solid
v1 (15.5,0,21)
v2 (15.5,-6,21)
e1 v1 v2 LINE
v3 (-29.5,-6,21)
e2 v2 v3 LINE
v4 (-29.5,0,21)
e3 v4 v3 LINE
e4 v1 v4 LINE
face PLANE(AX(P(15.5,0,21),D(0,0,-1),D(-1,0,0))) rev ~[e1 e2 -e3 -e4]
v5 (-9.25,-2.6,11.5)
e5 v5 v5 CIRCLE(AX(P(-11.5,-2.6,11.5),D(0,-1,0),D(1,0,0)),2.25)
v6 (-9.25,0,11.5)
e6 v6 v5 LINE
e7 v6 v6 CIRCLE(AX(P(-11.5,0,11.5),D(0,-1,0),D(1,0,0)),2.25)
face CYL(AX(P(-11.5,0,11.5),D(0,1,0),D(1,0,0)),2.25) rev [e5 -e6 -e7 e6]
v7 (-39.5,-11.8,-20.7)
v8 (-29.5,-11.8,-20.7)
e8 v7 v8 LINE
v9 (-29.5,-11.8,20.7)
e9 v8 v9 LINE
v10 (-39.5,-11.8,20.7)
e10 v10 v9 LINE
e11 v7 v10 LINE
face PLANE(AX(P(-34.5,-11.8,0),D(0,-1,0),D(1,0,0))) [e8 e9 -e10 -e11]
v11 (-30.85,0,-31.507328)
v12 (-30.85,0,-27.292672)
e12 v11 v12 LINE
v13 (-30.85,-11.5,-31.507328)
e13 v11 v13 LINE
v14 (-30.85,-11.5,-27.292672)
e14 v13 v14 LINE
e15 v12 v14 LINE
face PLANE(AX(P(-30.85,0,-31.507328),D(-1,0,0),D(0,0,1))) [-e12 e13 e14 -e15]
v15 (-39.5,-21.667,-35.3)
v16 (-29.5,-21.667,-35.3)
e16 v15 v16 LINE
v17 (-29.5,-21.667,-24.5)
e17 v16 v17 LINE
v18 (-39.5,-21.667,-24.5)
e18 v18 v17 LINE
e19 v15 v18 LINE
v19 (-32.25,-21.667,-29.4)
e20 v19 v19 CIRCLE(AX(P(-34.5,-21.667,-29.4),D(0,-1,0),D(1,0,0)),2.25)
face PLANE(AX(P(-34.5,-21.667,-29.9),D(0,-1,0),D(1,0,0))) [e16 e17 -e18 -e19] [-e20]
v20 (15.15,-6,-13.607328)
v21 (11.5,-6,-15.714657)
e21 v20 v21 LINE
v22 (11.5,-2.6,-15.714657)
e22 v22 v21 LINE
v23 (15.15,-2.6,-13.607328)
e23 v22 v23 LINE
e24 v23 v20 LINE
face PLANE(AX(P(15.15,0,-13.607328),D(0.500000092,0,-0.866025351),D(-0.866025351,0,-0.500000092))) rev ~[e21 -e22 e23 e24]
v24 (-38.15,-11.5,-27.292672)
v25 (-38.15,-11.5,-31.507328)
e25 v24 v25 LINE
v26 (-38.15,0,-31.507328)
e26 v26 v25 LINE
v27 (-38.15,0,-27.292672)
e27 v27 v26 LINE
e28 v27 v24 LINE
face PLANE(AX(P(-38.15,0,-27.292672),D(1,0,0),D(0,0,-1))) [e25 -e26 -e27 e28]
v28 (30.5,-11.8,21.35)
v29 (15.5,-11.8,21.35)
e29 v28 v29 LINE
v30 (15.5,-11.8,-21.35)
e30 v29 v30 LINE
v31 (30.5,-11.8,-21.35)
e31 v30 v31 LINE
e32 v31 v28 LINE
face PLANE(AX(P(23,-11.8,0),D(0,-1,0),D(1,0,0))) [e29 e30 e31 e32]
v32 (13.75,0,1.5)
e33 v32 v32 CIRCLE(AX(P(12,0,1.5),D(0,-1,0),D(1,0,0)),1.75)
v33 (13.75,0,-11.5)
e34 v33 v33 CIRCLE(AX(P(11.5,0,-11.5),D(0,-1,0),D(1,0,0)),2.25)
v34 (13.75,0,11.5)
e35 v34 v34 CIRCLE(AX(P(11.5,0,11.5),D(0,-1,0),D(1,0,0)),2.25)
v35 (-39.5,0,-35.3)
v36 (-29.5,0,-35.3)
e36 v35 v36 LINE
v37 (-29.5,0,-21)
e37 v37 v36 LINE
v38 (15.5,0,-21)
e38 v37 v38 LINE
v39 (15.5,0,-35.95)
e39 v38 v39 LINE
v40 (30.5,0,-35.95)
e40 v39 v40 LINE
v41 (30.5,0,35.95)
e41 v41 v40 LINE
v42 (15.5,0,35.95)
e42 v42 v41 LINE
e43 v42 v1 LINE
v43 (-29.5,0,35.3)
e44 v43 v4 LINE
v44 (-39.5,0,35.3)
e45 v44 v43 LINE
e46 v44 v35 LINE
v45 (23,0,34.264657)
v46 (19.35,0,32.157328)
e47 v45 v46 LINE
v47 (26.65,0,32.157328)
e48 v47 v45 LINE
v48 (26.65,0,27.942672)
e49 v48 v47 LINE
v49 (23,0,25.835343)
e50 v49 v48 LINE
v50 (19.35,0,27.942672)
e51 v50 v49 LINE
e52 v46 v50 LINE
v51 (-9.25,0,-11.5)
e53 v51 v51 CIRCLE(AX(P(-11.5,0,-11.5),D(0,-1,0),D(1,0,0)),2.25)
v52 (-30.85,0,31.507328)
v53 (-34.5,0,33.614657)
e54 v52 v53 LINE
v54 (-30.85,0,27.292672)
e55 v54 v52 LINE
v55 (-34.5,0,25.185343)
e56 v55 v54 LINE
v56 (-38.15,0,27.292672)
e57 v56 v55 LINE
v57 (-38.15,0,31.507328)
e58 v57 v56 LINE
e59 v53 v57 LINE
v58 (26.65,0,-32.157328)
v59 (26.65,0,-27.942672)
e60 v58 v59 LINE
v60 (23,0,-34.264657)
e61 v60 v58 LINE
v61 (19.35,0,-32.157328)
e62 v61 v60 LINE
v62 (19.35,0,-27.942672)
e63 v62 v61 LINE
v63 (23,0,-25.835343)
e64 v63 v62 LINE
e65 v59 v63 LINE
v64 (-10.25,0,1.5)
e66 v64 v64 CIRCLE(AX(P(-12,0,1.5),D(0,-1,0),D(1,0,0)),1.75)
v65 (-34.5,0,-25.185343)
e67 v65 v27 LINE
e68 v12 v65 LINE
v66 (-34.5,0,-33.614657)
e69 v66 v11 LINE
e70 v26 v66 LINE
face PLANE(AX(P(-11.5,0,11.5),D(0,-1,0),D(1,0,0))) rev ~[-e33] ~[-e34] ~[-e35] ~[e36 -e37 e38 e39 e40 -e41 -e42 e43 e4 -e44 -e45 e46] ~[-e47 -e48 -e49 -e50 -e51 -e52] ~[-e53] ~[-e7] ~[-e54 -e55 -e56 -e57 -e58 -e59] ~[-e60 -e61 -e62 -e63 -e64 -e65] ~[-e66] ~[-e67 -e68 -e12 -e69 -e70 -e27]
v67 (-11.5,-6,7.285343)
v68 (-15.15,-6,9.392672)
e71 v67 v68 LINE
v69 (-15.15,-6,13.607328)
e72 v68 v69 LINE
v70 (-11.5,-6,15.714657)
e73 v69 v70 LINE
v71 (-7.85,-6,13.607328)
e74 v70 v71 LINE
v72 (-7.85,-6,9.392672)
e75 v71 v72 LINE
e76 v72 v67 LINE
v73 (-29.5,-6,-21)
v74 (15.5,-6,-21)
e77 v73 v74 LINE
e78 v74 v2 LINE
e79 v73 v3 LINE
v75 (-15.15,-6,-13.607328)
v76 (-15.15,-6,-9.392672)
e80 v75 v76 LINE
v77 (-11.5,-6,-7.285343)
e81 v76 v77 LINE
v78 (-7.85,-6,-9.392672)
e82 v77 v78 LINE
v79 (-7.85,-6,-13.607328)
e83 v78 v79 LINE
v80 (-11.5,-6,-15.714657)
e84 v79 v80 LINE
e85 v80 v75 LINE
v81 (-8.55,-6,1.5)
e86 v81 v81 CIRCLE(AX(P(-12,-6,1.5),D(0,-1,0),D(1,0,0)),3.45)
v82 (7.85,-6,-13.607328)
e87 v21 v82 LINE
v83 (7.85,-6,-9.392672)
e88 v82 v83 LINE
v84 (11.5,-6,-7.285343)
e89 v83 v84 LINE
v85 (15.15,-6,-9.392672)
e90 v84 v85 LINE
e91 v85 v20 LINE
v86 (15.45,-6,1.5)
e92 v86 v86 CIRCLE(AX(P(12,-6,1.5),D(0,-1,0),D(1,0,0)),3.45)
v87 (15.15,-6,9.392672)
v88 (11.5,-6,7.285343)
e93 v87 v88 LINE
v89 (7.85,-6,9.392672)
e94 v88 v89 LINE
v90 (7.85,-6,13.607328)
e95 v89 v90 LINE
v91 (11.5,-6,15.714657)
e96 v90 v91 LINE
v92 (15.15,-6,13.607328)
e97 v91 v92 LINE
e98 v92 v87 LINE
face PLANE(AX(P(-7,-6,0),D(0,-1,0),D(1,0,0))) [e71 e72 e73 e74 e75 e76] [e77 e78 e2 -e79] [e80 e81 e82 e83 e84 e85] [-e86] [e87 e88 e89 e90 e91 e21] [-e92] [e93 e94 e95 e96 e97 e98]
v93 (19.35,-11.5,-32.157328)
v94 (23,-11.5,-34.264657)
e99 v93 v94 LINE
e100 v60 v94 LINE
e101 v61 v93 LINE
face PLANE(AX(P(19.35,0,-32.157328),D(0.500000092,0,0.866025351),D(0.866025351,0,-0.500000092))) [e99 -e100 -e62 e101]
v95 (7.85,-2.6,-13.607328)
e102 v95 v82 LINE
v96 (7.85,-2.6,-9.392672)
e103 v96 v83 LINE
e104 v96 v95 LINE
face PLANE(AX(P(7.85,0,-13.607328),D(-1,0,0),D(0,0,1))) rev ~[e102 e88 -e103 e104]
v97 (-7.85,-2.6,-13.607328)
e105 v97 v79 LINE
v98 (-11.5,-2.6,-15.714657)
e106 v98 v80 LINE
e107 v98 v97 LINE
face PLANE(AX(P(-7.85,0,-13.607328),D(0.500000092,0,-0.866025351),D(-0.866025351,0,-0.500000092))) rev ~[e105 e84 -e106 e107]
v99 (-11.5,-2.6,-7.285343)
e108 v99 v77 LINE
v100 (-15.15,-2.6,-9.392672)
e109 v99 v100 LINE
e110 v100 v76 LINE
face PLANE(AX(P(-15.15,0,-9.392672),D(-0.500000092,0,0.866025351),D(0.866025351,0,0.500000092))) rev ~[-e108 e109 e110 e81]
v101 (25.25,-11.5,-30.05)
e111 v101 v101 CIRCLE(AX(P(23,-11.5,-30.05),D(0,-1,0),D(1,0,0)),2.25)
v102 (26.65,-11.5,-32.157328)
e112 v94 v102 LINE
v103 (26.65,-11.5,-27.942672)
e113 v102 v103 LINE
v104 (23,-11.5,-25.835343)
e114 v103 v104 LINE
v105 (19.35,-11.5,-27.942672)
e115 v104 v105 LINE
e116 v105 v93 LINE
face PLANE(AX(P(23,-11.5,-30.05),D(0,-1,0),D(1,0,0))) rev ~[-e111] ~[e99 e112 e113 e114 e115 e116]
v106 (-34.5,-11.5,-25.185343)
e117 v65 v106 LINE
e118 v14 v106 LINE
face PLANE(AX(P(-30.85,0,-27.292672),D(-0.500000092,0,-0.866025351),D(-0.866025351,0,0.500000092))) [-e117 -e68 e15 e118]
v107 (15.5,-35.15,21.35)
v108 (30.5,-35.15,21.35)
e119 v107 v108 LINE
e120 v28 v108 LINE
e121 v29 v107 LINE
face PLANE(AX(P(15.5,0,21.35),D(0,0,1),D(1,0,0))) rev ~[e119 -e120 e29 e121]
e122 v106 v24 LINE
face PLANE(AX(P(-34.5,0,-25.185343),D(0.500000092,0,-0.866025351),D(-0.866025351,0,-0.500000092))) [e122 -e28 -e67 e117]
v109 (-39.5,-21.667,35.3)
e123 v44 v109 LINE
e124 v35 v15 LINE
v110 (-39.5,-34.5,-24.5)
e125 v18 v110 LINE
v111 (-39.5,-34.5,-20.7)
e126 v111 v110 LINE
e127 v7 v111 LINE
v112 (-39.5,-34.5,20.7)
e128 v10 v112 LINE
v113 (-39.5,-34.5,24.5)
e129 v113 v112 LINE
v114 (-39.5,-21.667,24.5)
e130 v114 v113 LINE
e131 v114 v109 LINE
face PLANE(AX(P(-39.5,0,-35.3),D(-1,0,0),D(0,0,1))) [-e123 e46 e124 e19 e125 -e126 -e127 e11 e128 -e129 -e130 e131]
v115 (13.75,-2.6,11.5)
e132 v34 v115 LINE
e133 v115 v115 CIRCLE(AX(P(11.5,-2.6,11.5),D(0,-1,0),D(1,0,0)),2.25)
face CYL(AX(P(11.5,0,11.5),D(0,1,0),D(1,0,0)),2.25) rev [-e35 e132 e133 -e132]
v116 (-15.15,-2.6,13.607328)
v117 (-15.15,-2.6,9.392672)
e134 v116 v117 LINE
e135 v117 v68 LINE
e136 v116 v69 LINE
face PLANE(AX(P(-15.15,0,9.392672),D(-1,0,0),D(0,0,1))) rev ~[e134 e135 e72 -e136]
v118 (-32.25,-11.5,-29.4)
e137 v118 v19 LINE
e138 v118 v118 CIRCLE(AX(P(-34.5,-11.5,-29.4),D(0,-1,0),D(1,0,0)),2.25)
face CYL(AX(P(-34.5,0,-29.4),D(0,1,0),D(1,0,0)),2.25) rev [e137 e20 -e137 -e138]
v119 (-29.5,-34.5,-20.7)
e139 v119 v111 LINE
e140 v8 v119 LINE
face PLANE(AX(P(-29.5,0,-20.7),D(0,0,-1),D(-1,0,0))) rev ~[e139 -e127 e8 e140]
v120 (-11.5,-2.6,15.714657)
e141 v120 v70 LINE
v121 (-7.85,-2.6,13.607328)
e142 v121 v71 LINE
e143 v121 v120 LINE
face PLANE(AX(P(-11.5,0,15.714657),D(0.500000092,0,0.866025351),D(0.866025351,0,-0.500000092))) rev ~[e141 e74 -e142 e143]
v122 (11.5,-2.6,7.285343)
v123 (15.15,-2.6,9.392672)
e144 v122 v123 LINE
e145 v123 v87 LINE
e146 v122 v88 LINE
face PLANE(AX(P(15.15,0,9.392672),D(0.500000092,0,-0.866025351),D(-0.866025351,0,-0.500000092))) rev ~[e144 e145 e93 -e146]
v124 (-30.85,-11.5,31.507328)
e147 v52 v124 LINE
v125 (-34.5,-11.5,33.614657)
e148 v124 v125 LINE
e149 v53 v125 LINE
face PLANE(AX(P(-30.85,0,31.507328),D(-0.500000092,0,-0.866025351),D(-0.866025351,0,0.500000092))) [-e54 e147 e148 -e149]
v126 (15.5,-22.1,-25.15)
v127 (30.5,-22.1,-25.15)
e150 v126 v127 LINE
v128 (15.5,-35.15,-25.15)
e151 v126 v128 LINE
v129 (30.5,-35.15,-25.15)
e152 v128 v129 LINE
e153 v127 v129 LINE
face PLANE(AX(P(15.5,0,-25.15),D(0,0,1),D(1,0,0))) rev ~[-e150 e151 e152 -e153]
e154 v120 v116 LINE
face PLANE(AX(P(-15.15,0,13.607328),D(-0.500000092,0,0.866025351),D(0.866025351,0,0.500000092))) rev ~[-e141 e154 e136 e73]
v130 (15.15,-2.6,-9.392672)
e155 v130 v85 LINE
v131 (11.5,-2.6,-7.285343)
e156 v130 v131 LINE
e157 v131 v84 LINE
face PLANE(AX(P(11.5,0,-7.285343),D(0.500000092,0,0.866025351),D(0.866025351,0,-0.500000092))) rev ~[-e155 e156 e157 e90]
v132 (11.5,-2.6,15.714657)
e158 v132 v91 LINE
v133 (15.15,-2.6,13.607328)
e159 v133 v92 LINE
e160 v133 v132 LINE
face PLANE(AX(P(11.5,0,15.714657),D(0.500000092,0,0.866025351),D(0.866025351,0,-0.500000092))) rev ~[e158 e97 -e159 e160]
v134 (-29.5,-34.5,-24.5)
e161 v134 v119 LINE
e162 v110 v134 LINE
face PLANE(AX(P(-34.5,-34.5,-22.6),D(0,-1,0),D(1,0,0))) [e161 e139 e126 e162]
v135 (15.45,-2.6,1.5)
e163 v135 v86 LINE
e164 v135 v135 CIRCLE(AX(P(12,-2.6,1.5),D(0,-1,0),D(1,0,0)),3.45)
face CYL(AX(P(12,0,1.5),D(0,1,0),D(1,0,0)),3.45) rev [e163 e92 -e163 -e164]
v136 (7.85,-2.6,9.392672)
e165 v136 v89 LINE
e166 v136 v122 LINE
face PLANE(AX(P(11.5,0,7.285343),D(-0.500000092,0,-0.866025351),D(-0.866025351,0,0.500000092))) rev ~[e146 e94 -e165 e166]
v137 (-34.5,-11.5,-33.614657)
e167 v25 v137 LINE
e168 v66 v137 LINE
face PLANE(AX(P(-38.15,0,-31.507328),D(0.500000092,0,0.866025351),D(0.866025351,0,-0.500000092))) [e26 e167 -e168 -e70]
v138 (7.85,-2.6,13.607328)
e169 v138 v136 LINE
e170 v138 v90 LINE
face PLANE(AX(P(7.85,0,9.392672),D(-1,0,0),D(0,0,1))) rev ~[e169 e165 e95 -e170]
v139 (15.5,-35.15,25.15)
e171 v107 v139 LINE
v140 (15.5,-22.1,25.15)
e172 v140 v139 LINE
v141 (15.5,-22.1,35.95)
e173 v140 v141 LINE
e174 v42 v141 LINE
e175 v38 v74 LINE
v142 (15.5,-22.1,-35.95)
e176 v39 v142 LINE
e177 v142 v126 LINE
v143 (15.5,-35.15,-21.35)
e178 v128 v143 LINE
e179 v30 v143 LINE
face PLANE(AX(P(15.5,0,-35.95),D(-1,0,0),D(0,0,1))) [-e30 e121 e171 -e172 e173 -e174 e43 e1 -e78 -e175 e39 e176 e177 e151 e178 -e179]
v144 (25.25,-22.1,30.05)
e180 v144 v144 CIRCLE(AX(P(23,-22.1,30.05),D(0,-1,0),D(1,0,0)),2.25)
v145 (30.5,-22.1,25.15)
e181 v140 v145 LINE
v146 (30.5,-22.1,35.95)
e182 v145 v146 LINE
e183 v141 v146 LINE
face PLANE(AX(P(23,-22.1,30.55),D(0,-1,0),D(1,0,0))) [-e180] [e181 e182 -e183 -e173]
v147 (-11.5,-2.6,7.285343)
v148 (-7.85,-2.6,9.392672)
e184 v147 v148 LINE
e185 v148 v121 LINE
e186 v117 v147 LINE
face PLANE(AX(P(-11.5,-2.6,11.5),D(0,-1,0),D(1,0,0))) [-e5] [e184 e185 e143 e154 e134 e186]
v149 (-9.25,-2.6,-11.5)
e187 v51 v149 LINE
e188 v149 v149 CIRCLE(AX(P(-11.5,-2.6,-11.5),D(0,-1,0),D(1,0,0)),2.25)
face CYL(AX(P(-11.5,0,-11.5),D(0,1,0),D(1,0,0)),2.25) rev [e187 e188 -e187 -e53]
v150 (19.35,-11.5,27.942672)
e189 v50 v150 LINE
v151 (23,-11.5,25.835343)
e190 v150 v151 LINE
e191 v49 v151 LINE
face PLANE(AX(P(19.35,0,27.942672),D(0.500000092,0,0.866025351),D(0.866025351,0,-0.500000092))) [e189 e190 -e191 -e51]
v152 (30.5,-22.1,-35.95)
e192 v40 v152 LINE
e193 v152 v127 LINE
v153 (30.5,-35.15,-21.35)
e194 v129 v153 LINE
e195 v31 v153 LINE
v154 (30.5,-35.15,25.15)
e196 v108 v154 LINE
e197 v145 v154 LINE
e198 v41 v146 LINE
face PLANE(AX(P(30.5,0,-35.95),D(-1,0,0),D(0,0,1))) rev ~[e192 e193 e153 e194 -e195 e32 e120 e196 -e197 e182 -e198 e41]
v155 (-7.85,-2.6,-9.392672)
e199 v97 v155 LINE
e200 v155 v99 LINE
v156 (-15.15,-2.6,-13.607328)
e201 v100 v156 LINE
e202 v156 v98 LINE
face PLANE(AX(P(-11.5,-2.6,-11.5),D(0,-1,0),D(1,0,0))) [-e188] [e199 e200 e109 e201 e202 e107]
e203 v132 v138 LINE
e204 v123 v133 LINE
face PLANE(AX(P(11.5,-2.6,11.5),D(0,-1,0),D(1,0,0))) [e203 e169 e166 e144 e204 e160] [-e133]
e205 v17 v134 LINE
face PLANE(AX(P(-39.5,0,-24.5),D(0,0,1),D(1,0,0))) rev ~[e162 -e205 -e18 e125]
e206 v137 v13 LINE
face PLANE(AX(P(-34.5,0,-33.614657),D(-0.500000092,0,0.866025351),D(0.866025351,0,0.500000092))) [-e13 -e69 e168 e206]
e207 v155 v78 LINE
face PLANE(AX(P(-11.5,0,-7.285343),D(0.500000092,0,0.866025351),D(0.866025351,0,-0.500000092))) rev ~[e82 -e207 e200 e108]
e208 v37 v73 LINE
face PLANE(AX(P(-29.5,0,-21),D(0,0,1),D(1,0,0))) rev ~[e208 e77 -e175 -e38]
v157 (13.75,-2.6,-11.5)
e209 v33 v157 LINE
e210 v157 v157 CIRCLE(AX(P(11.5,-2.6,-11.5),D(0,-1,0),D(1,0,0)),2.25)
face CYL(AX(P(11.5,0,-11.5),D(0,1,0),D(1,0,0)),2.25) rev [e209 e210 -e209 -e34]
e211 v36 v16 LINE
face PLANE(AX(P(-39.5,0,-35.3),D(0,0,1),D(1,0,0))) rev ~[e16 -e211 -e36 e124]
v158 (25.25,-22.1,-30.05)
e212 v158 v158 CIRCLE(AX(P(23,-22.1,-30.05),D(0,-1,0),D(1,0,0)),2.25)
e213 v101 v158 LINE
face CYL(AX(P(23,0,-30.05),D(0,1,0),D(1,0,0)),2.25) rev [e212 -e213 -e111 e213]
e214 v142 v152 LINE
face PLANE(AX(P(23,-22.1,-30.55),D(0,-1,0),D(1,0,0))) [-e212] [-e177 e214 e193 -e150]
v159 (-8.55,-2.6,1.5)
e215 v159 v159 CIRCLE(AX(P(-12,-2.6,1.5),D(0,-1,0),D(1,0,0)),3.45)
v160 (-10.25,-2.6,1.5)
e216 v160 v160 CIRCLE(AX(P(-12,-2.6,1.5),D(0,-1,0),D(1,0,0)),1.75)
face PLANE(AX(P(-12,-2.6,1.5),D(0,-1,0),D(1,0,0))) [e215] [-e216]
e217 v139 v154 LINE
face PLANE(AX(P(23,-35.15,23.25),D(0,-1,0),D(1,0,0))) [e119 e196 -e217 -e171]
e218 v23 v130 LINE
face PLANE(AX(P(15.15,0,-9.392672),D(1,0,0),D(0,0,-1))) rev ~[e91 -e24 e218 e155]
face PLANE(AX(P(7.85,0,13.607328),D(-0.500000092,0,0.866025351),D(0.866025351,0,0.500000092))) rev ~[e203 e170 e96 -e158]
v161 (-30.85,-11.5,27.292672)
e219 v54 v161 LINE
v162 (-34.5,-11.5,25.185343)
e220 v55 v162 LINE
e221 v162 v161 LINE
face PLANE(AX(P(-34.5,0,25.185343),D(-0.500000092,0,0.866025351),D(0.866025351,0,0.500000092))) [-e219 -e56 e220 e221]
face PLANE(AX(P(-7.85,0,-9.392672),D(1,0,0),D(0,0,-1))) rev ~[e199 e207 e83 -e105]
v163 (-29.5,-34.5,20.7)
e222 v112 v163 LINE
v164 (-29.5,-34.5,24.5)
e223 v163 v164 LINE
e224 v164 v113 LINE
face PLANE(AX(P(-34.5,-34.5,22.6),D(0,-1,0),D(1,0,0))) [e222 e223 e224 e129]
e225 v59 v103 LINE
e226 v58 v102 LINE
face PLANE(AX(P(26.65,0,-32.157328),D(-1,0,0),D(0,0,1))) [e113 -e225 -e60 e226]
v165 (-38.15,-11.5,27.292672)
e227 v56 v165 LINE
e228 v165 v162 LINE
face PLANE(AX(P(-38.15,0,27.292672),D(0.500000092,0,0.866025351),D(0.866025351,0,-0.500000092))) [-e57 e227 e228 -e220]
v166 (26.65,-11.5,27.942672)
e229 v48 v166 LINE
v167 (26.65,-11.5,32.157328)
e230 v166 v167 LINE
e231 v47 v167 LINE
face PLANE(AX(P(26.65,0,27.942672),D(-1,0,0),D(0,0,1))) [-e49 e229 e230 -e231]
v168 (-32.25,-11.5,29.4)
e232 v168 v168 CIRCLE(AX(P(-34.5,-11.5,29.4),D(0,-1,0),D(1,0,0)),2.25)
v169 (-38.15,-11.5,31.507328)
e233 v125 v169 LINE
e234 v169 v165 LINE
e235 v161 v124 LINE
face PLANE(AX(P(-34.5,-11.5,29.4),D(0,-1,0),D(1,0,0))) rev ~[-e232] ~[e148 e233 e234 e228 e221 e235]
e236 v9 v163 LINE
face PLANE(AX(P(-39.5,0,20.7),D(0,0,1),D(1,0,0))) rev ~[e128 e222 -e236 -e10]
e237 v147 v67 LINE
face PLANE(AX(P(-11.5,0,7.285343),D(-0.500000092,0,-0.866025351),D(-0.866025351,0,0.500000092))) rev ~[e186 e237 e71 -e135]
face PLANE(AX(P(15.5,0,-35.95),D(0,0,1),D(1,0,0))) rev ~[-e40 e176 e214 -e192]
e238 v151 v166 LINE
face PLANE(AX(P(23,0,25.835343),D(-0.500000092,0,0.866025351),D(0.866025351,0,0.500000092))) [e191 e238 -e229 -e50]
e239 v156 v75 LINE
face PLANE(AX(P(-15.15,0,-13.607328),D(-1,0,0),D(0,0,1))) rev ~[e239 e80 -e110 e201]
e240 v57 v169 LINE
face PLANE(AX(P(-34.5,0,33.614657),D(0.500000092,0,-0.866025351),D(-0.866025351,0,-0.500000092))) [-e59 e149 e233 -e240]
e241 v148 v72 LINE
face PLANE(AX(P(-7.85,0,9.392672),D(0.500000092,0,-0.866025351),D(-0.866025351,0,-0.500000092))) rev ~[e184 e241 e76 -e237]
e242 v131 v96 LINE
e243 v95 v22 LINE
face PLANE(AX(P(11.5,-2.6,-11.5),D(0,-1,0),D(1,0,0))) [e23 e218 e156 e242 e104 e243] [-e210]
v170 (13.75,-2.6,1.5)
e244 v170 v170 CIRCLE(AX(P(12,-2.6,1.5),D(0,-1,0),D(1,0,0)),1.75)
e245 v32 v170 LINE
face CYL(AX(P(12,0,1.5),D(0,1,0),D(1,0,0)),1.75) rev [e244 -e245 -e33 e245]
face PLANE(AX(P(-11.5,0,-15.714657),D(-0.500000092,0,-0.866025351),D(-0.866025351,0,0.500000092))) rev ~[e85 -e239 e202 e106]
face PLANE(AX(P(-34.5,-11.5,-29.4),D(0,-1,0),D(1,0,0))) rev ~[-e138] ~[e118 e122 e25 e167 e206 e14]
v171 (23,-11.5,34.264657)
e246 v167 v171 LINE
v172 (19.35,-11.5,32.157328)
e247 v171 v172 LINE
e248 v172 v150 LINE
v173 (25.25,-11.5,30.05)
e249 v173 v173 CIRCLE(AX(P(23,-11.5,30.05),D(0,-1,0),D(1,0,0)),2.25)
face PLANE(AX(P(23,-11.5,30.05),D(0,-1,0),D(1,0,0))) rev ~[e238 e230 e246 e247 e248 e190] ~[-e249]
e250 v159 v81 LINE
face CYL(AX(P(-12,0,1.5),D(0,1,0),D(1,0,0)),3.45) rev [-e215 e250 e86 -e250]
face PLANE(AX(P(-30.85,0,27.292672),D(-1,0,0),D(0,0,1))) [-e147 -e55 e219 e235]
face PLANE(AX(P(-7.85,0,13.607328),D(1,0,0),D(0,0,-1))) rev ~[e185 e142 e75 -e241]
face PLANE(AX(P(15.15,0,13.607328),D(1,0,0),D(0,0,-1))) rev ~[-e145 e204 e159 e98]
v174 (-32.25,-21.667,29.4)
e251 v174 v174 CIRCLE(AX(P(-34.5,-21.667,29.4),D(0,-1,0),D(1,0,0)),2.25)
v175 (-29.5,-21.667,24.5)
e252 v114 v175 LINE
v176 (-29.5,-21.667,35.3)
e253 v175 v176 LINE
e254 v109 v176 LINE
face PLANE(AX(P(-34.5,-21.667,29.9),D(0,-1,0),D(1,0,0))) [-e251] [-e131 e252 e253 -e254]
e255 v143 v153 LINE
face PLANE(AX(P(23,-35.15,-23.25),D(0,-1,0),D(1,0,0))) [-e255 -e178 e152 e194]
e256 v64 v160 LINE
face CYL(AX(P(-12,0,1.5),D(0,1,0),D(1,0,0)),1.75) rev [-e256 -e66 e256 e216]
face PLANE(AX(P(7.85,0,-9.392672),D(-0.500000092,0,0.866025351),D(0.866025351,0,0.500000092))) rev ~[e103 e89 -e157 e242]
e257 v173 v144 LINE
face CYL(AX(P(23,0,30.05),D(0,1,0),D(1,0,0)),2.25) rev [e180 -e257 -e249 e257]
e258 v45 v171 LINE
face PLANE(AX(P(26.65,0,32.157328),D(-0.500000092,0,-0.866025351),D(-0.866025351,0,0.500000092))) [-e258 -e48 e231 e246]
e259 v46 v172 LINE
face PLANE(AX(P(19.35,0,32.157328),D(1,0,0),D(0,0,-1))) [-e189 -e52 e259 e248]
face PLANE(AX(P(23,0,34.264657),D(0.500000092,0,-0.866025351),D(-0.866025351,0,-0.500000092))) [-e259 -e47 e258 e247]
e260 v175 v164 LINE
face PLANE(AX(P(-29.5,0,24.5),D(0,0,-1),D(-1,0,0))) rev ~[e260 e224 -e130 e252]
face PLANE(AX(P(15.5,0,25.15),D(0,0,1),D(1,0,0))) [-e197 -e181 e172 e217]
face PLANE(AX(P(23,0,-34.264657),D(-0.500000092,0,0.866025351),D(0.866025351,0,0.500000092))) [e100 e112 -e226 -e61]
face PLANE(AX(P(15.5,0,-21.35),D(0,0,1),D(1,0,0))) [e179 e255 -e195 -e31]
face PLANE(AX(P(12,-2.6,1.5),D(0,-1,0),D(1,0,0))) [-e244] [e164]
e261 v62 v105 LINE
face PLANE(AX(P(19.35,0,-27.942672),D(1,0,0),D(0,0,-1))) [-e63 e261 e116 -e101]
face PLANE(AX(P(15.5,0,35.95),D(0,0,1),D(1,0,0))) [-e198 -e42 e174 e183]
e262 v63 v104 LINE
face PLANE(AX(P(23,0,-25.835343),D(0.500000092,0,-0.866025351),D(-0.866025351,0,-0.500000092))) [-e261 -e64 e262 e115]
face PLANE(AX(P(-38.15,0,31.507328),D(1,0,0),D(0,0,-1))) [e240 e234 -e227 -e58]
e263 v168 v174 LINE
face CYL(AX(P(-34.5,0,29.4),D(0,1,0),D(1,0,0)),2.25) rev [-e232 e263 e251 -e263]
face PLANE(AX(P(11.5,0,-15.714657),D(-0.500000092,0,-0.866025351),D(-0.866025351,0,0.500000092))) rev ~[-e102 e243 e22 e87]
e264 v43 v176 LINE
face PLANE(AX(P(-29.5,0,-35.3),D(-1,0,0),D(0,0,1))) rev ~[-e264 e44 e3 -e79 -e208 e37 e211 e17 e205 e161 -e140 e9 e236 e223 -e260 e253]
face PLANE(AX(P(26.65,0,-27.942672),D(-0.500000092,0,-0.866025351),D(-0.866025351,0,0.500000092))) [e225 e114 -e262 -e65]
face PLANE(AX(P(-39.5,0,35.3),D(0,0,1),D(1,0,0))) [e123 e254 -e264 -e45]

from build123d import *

# Parameters (mm, degrees)
F0_R     = 3.45
F1_DEPTH = 6
F0_W     = 10
F0_H     = 41.4
F2_DEPTH = 11.8
F3_DEPTH = 34.5
F0_W_2   = 15
F0_H_2   = 3.8
F4_DEPTH = 35.15
F0_H_3   = 10.8
F0_R_2   = 2.25
F5_DEPTH = 21.667
F6_DEPTH = 22.1
F0_R_3   = 1.75
F7_DEPTH = 2.6
F8_DEPTH = 11.5


with BuildPart() as f1:
    # F0 (on Front) → F1 (new body)
    with BuildSketch(Plane.XZ):
        Polygon((15.5, 21), (-29.5, 21), (-29.5, 20.7), (-29.5, -20.7), (-29.5, -21), (15.5, -21), align=None)
        Polygon((-15.15, -13.607328), (-15.15, -9.392672), (-11.5, -7.285343), (-7.85, -9.392672), (-7.85, -13.607328), (-11.5, -15.714657), align=None, mode=Mode.SUBTRACT)
        Polygon((11.5, -15.714657), (7.85, -13.607328), (7.85, -9.392672), (11.5, -7.285343), (15.15, -9.392672), (15.15, -13.607328), align=None, mode=Mode.SUBTRACT)
        with Locations((-12, 1.5)):
            Circle(F0_R, mode=Mode.SUBTRACT)
        Polygon((-11.5, 15.714657), (-7.85, 13.607328), (-7.85, 9.392672), (-11.5, 7.285343), (-15.15, 9.392672), (-15.15, 13.607328), align=None, mode=Mode.SUBTRACT)
        with Locations((12, 1.5)):
            Circle(F0_R, mode=Mode.SUBTRACT)
        Polygon((7.85, 9.392672), (7.85, 13.607328), (11.5, 15.714657), (15.15, 13.607328), (15.15, 9.392672), (11.5, 7.285343), align=None, mode=Mode.SUBTRACT)
    extrude(amount=F1_DEPTH)

    # F0 (on Front) → F2 (join)
    with BuildSketch(Plane.XZ):
        with Locations((-34.5, 0)):
            Rectangle(F0_W, F0_H)
        Polygon((15.5, 21.35), (15.5, 21), (15.5, -21), (15.5, -21.35), (30.5, -21.35), (30.5, 21.35), align=None)
    extrude(amount=F2_DEPTH)

    # F0 (on Front) → F3 (join)
    with BuildSketch(Plane.XZ):
        Polygon((-29.5, 24.5), (-39.5, 24.5), (-39.5, 20.7), (-29.5, 20.7), (-29.5, 21), align=None)
        Polygon((-29.5, -20.7), (-39.5, -20.7), (-39.5, -24.5), (-29.5, -24.5), (-29.5, -21), align=None)
    extrude(amount=F3_DEPTH)

    # F0 (on Front) → F4 (join)
    with BuildSketch(Plane.XZ):
        with Locations((23, -23.25)):
            Rectangle(F0_W_2, F0_H_2)
        with Locations((23, 23.25)):
            Rectangle(F0_W_2, F0_H_2)
    extrude(amount=F4_DEPTH)

    # F0 (on Front) → F5 (join)
    with BuildSketch(Plane.XZ):
        with Locations((-34.5, -29.9)):
            Rectangle(F0_W, F0_H_3)
        Polygon((-34.5, -25.185343), (-30.85, -27.292672), (-30.85, -31.507328), (-34.5, -33.614657), (-38.15, -31.507328), (-38.15, -27.292672), align=None, mode=Mode.SUBTRACT)
        Polygon((-30.85, -31.507328), (-30.85, -27.292672), (-34.5, -25.185343), (-38.15, -27.292672), (-38.15, -31.507328), (-34.5, -33.614657), align=None)
        with Locations((-34.5, -29.4)):
            Circle(F0_R_2, mode=Mode.SUBTRACT)
        with Locations((-34.5, 29.9)):
            Rectangle(F0_W, F0_H_3)
        Polygon((-34.5, 33.614657), (-30.85, 31.507328), (-30.85, 27.292672), (-34.5, 25.185343), (-38.15, 27.292672), (-38.15, 31.507328), align=None, mode=Mode.SUBTRACT)
        Polygon((-30.85, 27.292672), (-30.85, 31.507328), (-34.5, 33.614657), (-38.15, 31.507328), (-38.15, 27.292672), (-34.5, 25.185343), align=None)
        with Locations((-34.5, 29.4)):
            Circle(F0_R_2, mode=Mode.SUBTRACT)
    extrude(amount=F5_DEPTH)

    # F0 (on Front) → F6 (join)
    with BuildSketch(Plane.XZ):
        with Locations((23, -30.55)):
            Rectangle(F0_W_2, F0_H_3)
        Polygon((26.65, -27.942672), (26.65, -32.157328), (23, -34.264657), (19.35, -32.157328), (19.35, -27.942672), (23, -25.835343), align=None, mode=Mode.SUBTRACT)
        Polygon((23, -34.264657), (26.65, -32.157328), (26.65, -27.942672), (23, -25.835343), (19.35, -27.942672), (19.35, -32.157328), align=None)
        with Locations((23, -30.05)):
            Circle(F0_R_2, mode=Mode.SUBTRACT)
        with Locations((23, 30.55)):
            Rectangle(F0_W_2, F0_H_3)
        Polygon((23, 34.264657), (26.65, 32.157328), (26.65, 27.942672), (23, 25.835343), (19.35, 27.942672), (19.35, 32.157328), align=None, mode=Mode.SUBTRACT)
        Polygon((26.65, 27.942672), (26.65, 32.157328), (23, 34.264657), (19.35, 32.157328), (19.35, 27.942672), (23, 25.835343), align=None)
        with Locations((23, 30.05)):
            Circle(F0_R_2, mode=Mode.SUBTRACT)
    extrude(amount=F6_DEPTH)

    # F0 (on Front) → F7 (join)
    with BuildSketch(Plane.XZ):
        Polygon((-7.85, 9.392672), (-7.85, 13.607328), (-11.5, 15.714657), (-15.15, 13.607328), (-15.15, 9.392672), (-11.5, 7.285343), align=None)
        with Locations((-11.5, 11.5)):
            Circle(F0_R_2, mode=Mode.SUBTRACT)
        Polygon((11.5, 15.714657), (7.85, 13.607328), (7.85, 9.392672), (11.5, 7.285343), (15.15, 9.392672), (15.15, 13.607328), align=None)
        with Locations((11.5, 11.5)):
            Circle(F0_R_2, mode=Mode.SUBTRACT)
        Polygon((7.85, -9.392672), (7.85, -13.607328), (11.5, -15.714657), (15.15, -13.607328), (15.15, -9.392672), (11.5, -7.285343), align=None)
        with Locations((11.5, -11.5)):
            Circle(F0_R_2, mode=Mode.SUBTRACT)
        Polygon((-11.5, -7.285343), (-15.15, -9.392672), (-15.15, -13.607328), (-11.5, -15.714657), (-7.85, -13.607328), (-7.85, -9.392672), align=None)
        with Locations((-11.5, -11.5)):
            Circle(F0_R_2, mode=Mode.SUBTRACT)
        with Locations((-12, 1.5)):
            Circle(F0_R)
        with Locations((-12, 1.5)):
            Circle(F0_R_3, mode=Mode.SUBTRACT)
        with Locations((12, 1.5)):
            Circle(F0_R)
        with Locations((12, 1.5)):
            Circle(F0_R_3, mode=Mode.SUBTRACT)
    extrude(amount=F7_DEPTH)

    # F0 (on Front) → F8 (cut)
    with BuildSketch(Plane.XZ):
        Polygon((23, -34.264657), (26.65, -32.157328), (26.65, -27.942672), (23, -25.835343), (19.35, -27.942672), (19.35, -32.157328), align=None)
        with Locations((23, -30.05)):
            Circle(F0_R_2, mode=Mode.SUBTRACT)
        Polygon((26.65, 27.942672), (26.65, 32.157328), (23, 34.264657), (19.35, 32.157328), (19.35, 27.942672), (23, 25.835343), align=None)
        with Locations((23, 30.05)):
            Circle(F0_R_2, mode=Mode.SUBTRACT)
        Polygon((-30.85, 27.292672), (-30.85, 31.507328), (-34.5, 33.614657), (-38.15, 31.507328), (-38.15, 27.292672), (-34.5, 25.185343), align=None)
        with Locations((-34.5, 29.4)):
            Circle(F0_R_2, mode=Mode.SUBTRACT)
        Polygon((-30.85, -31.507328), (-30.85, -27.292672), (-34.5, -25.185343), (-38.15, -27.292672), (-38.15, -31.507328), (-34.5, -33.614657), align=None)
        with Locations((-34.5, -29.4)):
            Circle(F0_R_2, mode=Mode.SUBTRACT)
    extrude(amount=F8_DEPTH, mode=Mode.SUBTRACT)


solid = f1.part
